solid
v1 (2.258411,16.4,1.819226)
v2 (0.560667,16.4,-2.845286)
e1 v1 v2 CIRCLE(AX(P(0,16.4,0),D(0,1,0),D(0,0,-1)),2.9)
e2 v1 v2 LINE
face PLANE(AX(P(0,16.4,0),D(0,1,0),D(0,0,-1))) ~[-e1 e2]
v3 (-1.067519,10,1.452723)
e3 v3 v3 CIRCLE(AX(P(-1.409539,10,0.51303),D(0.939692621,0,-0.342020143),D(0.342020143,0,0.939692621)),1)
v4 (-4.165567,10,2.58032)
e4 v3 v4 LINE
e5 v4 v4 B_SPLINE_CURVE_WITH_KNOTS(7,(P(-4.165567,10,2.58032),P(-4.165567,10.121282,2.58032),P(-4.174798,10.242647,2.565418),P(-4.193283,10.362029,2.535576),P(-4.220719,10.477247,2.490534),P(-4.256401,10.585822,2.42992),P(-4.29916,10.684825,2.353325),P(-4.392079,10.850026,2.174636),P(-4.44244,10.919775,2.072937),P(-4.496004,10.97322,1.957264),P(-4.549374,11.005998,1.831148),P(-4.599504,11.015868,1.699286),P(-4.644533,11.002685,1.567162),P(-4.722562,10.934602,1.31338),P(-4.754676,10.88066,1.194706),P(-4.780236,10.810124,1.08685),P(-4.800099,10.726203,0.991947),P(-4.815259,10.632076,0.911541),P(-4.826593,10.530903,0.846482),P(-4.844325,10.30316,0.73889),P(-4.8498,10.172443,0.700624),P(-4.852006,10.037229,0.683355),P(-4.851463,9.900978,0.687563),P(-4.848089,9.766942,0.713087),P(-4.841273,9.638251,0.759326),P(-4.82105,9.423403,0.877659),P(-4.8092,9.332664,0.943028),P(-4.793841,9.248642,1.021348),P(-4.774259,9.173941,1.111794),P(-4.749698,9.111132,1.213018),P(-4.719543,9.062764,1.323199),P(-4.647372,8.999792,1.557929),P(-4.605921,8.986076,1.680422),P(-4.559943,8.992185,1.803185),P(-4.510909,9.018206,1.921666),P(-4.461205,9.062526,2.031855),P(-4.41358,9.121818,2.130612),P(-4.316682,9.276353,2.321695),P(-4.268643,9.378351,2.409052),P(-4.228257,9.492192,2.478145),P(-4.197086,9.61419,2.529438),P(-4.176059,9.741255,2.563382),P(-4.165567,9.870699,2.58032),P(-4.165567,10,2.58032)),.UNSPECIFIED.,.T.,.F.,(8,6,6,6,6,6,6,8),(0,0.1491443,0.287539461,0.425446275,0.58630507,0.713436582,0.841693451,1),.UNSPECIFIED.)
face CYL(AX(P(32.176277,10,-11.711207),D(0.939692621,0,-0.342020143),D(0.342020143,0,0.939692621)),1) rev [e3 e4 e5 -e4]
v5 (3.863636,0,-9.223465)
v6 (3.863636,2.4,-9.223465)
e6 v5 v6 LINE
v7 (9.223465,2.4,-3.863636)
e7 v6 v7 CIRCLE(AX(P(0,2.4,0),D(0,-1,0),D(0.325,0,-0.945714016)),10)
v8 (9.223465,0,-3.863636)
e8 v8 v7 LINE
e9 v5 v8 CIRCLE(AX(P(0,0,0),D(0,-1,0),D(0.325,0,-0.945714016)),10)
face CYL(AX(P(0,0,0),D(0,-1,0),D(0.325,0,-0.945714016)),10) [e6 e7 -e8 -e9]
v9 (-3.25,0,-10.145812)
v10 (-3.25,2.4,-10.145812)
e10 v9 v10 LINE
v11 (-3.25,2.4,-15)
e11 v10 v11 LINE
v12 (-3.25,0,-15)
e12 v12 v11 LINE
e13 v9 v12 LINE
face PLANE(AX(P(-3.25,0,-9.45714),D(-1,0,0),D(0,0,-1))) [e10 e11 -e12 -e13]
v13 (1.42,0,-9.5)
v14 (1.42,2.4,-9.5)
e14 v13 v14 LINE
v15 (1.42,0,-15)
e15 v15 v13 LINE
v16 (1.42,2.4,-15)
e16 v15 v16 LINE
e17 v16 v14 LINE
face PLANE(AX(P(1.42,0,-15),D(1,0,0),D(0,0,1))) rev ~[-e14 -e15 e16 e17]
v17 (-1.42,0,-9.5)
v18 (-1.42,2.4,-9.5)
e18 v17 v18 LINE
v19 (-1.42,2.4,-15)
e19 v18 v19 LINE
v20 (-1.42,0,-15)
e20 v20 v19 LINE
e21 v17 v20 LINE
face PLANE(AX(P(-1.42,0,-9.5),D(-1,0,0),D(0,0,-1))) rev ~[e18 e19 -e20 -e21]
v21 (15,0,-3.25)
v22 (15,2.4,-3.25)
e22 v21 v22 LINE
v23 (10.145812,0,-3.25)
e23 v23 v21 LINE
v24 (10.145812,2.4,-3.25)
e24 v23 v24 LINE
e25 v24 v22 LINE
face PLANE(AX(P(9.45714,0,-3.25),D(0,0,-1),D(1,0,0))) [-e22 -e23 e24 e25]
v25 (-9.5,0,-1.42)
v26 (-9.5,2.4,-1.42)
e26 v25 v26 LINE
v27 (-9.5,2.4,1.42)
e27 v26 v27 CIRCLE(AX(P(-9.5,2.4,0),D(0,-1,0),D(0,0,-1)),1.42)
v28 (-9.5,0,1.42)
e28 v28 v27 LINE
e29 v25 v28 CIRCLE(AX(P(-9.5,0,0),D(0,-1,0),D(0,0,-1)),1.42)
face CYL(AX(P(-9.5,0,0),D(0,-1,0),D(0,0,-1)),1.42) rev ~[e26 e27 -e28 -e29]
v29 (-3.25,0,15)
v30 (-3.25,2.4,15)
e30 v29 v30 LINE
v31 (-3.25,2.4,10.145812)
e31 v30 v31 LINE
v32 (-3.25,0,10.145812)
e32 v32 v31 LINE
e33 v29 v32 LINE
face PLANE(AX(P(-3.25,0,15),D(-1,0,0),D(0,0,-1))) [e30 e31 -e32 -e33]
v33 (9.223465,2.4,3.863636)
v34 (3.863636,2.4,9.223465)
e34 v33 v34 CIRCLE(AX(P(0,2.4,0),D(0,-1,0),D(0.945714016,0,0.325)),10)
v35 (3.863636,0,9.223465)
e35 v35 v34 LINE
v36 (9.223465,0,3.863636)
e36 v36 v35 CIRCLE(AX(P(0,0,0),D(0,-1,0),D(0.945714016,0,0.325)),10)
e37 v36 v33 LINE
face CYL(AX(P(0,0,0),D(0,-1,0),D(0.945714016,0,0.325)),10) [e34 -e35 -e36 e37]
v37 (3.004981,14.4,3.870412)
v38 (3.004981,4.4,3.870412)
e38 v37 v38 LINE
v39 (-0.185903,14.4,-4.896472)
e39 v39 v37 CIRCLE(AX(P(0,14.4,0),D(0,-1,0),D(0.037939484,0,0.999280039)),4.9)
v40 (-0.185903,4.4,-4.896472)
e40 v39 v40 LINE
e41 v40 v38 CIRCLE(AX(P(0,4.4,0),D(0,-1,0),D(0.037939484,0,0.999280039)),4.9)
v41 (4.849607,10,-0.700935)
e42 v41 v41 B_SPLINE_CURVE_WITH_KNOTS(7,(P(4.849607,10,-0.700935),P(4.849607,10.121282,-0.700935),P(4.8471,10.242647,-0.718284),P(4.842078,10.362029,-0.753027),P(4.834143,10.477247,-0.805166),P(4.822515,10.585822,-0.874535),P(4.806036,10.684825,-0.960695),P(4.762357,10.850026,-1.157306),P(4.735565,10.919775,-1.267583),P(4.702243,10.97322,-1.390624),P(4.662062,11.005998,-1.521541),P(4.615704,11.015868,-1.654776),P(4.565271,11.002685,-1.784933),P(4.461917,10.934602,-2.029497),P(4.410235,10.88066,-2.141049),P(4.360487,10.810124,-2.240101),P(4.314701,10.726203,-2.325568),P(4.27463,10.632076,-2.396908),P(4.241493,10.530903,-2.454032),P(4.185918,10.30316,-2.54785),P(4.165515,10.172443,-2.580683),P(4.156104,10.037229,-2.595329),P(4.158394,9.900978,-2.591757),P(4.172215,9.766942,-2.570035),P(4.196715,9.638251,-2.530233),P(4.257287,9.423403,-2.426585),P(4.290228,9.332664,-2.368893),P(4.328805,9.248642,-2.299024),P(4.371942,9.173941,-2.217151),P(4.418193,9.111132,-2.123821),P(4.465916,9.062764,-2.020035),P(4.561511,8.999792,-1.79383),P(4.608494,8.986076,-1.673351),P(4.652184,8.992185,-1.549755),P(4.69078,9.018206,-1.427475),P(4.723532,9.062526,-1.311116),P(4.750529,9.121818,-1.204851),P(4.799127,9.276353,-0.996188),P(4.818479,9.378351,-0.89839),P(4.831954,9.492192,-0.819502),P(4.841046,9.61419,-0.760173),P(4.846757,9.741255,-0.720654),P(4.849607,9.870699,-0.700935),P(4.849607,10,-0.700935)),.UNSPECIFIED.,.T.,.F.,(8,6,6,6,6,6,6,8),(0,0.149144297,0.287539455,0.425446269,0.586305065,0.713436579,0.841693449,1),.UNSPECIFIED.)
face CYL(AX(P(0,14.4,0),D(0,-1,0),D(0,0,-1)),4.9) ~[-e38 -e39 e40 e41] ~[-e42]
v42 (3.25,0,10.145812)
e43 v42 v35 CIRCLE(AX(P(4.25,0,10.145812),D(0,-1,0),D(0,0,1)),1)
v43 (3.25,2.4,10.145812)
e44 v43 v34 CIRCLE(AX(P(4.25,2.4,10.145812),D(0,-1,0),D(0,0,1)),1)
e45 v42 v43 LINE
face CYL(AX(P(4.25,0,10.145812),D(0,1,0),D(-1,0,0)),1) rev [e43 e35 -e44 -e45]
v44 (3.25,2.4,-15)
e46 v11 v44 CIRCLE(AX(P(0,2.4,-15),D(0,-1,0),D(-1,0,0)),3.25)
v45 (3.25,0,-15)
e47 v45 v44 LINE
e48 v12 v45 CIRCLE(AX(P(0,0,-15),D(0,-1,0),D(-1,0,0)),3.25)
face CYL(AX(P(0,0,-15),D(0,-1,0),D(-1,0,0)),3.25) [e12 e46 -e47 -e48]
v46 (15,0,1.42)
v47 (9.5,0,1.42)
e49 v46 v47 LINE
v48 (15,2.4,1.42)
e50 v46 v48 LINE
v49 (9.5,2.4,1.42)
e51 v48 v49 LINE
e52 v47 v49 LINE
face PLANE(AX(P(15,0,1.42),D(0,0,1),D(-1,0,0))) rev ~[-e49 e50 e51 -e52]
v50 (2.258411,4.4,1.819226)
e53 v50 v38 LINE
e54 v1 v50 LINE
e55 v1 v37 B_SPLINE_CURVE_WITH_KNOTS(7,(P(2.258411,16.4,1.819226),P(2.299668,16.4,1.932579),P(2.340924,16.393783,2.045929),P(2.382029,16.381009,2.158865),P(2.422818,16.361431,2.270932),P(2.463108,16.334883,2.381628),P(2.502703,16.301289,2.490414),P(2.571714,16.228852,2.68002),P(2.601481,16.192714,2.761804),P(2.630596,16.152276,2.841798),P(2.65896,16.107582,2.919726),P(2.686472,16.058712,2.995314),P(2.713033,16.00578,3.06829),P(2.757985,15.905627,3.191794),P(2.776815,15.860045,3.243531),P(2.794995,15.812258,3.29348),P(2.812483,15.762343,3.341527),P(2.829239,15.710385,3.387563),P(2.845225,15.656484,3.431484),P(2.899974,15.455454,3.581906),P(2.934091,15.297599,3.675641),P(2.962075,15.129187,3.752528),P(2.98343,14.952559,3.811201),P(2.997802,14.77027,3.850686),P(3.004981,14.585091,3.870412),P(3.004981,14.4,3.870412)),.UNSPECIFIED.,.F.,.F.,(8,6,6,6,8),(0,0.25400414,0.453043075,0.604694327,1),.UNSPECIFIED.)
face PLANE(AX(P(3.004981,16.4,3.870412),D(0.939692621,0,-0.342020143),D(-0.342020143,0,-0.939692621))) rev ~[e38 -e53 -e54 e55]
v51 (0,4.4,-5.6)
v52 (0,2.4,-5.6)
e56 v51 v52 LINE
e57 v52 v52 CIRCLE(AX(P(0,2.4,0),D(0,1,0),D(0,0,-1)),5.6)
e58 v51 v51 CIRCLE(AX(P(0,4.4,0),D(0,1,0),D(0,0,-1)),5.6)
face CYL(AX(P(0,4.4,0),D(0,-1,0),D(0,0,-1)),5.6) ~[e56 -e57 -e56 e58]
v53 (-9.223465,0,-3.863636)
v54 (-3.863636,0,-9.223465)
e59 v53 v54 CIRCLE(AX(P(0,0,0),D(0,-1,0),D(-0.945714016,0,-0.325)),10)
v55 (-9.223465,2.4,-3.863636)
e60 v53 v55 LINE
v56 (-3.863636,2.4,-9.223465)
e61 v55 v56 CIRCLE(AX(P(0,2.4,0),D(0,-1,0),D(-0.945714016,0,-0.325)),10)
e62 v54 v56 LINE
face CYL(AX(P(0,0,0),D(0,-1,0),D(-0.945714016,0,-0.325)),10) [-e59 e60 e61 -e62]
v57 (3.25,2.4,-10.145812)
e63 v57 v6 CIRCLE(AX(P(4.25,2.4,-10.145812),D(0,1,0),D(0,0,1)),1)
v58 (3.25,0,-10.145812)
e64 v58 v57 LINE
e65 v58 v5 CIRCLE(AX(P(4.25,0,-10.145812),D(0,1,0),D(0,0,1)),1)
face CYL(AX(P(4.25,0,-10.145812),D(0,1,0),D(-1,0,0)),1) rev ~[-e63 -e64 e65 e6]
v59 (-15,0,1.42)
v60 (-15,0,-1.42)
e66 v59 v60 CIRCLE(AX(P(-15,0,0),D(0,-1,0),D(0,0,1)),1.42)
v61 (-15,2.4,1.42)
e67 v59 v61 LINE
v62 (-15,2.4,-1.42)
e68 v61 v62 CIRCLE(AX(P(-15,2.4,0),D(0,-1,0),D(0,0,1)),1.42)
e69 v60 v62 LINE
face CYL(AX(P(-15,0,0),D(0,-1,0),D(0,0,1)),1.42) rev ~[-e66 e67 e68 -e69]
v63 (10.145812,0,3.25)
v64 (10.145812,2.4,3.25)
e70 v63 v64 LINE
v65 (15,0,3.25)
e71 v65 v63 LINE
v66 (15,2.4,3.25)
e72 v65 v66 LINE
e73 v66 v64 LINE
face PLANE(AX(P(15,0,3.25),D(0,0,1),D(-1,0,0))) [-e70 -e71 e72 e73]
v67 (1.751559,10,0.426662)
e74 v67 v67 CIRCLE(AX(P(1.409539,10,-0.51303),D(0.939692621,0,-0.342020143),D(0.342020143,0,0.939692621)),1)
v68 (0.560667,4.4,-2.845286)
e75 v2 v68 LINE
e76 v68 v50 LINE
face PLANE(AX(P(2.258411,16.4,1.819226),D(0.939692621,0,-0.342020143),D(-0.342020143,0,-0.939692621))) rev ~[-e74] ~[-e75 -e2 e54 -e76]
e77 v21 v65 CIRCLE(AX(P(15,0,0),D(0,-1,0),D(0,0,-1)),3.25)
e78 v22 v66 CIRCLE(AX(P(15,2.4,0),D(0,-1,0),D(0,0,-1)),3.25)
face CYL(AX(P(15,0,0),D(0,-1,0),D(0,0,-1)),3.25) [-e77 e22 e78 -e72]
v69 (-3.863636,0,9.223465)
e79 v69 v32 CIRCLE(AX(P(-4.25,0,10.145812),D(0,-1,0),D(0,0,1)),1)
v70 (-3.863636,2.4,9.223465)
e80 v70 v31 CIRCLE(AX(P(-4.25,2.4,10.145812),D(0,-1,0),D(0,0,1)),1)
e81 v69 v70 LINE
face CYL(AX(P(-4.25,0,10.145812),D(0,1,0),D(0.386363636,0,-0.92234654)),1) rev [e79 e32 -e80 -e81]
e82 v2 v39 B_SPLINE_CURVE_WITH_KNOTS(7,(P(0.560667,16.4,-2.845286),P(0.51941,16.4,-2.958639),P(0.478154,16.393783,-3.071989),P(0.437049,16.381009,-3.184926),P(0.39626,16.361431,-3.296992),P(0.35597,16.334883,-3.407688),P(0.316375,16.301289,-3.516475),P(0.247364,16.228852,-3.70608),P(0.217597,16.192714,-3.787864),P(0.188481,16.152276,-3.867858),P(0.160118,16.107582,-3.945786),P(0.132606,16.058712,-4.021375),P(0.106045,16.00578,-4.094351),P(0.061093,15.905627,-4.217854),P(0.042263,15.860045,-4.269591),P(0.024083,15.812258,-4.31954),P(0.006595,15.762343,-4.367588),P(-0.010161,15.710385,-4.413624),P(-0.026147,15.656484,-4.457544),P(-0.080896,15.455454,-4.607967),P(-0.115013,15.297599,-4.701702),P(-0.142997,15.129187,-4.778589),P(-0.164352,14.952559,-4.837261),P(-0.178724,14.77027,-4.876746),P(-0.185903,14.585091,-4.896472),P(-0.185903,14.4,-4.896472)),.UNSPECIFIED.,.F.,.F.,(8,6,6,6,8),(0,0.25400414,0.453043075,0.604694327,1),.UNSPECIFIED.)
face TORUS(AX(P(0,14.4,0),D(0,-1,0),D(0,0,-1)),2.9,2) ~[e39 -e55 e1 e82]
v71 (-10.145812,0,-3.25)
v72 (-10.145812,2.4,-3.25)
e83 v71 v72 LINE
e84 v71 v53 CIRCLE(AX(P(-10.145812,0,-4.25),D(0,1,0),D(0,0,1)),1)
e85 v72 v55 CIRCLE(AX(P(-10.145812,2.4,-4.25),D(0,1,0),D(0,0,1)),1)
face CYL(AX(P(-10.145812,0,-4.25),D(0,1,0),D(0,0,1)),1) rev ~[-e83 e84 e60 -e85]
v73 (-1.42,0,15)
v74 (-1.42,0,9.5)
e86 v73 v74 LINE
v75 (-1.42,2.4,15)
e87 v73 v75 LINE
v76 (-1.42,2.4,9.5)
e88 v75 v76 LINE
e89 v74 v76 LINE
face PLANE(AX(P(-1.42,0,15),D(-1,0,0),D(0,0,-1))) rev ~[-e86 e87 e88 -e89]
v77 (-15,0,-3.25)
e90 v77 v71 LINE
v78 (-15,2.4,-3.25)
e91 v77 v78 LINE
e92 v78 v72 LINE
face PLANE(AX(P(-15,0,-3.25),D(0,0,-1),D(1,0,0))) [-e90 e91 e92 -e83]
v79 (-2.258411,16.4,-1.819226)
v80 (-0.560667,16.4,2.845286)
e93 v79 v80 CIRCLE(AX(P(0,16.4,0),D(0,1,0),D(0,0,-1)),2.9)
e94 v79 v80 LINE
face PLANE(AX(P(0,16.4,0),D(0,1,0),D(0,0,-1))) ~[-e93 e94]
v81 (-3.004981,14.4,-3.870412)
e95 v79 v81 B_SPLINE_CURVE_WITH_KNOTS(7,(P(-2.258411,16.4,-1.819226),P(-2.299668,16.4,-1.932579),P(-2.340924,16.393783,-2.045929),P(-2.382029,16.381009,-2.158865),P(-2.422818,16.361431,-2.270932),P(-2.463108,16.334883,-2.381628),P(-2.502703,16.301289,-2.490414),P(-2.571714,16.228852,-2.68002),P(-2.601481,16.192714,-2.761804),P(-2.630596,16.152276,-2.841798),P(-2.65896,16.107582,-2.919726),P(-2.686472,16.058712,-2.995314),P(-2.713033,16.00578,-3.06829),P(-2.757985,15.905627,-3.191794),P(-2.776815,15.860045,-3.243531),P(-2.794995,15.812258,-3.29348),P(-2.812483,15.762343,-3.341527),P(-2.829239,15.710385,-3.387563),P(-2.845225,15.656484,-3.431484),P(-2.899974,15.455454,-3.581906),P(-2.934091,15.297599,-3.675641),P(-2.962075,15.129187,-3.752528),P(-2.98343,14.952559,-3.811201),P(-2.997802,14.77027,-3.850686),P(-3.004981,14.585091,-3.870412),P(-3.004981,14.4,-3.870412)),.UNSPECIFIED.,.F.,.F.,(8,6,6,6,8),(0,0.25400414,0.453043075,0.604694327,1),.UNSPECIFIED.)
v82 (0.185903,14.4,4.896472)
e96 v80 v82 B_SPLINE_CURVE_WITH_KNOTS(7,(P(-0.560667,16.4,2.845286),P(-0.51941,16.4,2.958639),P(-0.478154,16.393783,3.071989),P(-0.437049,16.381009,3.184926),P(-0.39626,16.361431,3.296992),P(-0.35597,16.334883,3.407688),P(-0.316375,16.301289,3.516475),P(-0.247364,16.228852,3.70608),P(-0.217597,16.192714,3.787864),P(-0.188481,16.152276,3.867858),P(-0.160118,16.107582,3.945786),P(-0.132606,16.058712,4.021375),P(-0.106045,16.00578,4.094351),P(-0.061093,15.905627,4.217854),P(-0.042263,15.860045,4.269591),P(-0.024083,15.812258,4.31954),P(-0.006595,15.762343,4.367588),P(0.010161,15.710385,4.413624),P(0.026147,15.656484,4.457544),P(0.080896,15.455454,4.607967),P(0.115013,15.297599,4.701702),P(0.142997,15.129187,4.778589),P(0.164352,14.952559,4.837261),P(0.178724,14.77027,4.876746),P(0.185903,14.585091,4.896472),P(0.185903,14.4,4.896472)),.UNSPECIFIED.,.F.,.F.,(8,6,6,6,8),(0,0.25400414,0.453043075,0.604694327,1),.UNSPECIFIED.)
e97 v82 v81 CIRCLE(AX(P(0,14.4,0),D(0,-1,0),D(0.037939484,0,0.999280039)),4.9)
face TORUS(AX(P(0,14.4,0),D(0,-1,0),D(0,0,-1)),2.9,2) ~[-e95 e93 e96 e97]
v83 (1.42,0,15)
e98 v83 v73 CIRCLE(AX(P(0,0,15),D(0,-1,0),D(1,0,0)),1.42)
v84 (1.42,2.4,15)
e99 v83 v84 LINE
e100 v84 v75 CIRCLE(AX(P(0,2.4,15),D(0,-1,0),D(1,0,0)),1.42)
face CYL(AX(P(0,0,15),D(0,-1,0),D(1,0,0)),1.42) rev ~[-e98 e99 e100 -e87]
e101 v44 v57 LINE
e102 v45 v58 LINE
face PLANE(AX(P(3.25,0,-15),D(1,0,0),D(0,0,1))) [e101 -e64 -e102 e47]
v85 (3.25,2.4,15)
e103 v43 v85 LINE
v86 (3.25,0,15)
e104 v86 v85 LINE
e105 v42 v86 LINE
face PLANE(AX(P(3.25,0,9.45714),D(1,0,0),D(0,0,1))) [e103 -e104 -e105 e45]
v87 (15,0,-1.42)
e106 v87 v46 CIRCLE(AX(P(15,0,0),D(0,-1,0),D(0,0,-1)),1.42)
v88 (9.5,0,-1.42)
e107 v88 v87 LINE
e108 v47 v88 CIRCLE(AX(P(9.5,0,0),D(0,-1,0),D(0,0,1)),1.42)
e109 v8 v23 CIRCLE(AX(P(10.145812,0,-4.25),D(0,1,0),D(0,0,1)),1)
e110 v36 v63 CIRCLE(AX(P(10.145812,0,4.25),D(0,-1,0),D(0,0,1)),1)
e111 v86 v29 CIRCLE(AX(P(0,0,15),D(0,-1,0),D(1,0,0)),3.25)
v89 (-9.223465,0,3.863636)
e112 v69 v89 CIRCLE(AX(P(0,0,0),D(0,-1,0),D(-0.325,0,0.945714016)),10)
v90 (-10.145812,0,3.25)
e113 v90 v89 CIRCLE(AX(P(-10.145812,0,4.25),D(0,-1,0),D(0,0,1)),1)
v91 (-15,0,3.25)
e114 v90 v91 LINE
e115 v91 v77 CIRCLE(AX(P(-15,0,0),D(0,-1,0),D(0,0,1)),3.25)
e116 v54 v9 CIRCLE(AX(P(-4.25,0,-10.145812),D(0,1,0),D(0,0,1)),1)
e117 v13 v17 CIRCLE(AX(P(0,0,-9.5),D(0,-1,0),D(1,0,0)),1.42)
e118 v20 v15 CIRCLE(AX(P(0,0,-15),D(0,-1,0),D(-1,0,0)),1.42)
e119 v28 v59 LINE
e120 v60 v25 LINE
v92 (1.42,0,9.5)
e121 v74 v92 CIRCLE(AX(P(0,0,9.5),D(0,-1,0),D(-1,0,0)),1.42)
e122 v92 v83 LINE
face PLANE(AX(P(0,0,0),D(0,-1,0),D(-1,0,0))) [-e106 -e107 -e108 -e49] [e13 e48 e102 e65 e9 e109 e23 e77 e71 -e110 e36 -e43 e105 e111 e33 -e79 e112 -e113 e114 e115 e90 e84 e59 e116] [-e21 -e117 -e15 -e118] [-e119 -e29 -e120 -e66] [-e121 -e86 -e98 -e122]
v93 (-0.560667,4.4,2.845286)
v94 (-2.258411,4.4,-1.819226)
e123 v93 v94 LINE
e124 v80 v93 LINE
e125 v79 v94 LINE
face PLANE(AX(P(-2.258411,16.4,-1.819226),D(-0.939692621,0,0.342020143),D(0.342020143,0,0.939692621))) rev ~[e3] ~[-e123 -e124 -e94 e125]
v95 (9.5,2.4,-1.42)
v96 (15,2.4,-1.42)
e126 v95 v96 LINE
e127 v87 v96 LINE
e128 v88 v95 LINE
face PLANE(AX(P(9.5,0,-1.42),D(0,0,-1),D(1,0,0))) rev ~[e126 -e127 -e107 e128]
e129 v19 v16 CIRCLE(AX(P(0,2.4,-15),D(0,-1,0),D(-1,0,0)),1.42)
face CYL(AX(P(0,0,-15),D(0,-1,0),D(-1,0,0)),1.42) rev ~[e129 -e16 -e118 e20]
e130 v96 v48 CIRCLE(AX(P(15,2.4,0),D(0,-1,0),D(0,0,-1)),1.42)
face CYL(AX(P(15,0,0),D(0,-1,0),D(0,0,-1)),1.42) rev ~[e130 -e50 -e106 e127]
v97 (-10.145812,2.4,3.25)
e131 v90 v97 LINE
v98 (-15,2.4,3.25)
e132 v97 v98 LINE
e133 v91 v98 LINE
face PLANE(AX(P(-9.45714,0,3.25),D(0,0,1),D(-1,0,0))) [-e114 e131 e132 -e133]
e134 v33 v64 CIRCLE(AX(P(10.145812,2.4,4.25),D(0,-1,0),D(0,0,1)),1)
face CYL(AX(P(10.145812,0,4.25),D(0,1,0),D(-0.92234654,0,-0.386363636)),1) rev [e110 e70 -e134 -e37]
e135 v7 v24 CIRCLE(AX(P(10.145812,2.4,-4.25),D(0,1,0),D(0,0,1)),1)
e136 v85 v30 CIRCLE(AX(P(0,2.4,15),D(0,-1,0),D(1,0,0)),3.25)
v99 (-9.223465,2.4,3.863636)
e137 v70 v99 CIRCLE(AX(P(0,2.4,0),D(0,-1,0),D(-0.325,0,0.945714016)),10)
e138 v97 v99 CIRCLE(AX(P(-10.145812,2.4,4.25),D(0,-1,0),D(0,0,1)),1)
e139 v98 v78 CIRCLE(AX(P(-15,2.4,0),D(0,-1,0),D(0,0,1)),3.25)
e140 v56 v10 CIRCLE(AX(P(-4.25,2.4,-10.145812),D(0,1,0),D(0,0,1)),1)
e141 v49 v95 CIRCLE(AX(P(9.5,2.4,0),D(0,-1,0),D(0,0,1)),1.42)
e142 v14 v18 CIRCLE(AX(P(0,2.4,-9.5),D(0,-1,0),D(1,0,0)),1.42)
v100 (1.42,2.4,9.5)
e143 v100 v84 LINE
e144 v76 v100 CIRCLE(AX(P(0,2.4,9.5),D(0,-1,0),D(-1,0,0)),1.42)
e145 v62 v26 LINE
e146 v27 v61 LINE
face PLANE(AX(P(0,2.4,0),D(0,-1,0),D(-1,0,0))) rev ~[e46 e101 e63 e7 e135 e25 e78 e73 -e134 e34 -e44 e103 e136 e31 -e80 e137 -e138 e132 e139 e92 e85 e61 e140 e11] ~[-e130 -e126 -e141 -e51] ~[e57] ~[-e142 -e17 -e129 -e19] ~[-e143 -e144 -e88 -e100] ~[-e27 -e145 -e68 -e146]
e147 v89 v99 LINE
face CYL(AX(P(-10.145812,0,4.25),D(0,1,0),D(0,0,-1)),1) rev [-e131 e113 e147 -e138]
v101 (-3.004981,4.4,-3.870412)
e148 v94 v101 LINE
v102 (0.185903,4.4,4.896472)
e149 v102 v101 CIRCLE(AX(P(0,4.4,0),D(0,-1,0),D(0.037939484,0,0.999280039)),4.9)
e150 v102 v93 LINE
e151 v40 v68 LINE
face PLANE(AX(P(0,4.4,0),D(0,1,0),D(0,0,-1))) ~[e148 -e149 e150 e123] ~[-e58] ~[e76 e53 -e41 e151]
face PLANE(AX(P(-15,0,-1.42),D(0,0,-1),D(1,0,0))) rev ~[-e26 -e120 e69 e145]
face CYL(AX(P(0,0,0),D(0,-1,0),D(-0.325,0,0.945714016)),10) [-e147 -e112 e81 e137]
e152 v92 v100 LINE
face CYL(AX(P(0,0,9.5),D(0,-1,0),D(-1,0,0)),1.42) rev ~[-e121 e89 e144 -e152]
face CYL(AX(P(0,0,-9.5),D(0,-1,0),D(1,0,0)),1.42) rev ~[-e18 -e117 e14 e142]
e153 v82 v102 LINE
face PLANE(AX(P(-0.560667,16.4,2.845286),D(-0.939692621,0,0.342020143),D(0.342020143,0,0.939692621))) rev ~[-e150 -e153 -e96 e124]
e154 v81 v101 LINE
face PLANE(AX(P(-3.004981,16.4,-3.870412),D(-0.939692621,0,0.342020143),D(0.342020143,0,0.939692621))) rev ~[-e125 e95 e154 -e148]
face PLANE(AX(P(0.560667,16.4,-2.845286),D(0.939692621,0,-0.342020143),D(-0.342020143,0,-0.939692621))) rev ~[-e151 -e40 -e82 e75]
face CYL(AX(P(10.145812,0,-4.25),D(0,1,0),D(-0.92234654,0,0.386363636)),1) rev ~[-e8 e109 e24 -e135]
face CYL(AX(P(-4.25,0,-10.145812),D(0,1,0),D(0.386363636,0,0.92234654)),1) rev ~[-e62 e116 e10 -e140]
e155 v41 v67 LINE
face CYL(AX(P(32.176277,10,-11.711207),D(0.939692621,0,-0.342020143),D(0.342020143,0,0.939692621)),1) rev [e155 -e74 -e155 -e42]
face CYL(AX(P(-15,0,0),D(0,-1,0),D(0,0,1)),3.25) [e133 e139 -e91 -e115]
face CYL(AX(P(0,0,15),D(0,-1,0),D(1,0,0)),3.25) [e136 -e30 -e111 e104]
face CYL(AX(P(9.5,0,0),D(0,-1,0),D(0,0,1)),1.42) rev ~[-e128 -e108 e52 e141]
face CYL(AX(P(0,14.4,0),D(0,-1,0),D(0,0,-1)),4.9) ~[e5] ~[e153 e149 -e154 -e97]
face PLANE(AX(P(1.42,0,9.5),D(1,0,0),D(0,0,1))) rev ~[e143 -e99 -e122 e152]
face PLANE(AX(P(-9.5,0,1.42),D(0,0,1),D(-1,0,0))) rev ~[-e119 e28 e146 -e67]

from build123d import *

# Parameters (mm, degrees)
BOSS_EXTRUDE1_DEPTH     = 2.4
FILLET1_R               = 1
CUT_EXTRUDE1_REACH      = 32.579
CUT_EXTRUDE2_DEPTH      = 32.741278757
CUT_EXTRUDE2_DEPTH_BACK = 32.741278757
SKETCH6_R               = 1


with BuildPart() as part:
    # Sketch1 → Boss-Extrude1 (new body)
    with BuildSketch(Plane(origin=(0, 0, 0), x_dir=(1, 0, 0), z_dir=(0, 1, 0))):
        with BuildLine():
            Line((-15, 3.25), (-9.45714016, 3.25))
            ThreePointArc((-9.45714016, 3.25), (-7.071067812, 7.071067812), (-3.25, 9.45714016))
            Line((-3.25, 9.45714016), (-3.25, 15))
            ThreePointArc((-3.25, 15), (0, 18.25), (3.25, 15))
            Line((3.25, 15), (3.25, 9.45714016))
            ThreePointArc((3.25, 9.45714016), (7.071067812, 7.071067812), (9.45714016, 3.25))
            Line((9.45714016, 3.25), (15, 3.25))
            ThreePointArc((15, 3.25), (18.25, 0), (15, -3.25))
            Line((15, -3.25), (9.45714016, -3.25))
            ThreePointArc((9.45714016, -3.25), (7.071067812, -7.071067812), (3.25, -9.45714016))
            Line((3.25, -9.45714016), (3.25, -15))
            ThreePointArc((3.25, -15), (0, -18.25), (-3.25, -15))
            Line((-3.25, -15), (-3.25, -9.45714016))
            ThreePointArc((-3.25, -9.45714016), (-7.071067812, -7.071067812), (-9.45714016, -3.25))
            Line((-9.45714016, -3.25), (-15, -3.25))
            ThreePointArc((-15, -3.25), (-18.25, 0), (-15, 3.25))
        make_face()
        with BuildLine():
            Line((-15, 1.42), (-9.5, 1.42))
            ThreePointArc((-9.5, 1.42), (-8.08, 0), (-9.5, -1.42))
            Line((-9.5, -1.42), (-15, -1.42))
            ThreePointArc((-15, -1.42), (-16.42, 0), (-15, 1.42))
        make_face(mode=Mode.SUBTRACT)
        with BuildLine():
            Line((1.42, 15), (1.42, 9.5))
            ThreePointArc((1.42, 9.5), (0, 8.08), (-1.42, 9.5))
            Line((-1.42, 9.5), (-1.42, 15))
            ThreePointArc((-1.42, 15), (0, 16.42), (1.42, 15))
        make_face(mode=Mode.SUBTRACT)
        with BuildLine():
            Line((15, -1.42), (9.5, -1.42))
            ThreePointArc((9.5, -1.42), (8.08, 0), (9.5, 1.42))
            Line((9.5, 1.42), (15, 1.42))
            ThreePointArc((15, 1.42), (16.42, 0), (15, -1.42))
        make_face(mode=Mode.SUBTRACT)
        with BuildLine():
            Line((-1.42, -15), (-1.42, -9.5))
            ThreePointArc((-1.42, -9.5), (0, -8.08), (1.42, -9.5))
            Line((1.42, -9.5), (1.42, -15))
            ThreePointArc((1.42, -15), (0, -16.42), (-1.42, -15))
        make_face(mode=Mode.SUBTRACT)
    extrude(amount=BOSS_EXTRUDE1_DEPTH)

    # Fillet1
    fillet1_edges = [part.edges().sort_by_distance(p)[0] for p in [
        (-9.45714016, 1.2, -3.25),
        (-3.25, 1.2, -9.45714016),
        (3.25, 1.2, -9.45714016),
        (9.45714016, 1.2, -3.25),
        (9.45714016, 1.2, 3.25),
        (3.25, 1.2, 9.45714016),
        (-3.25, 1.2, 9.45714016),
        (-9.45714016, 1.2, 3.25),
    ]]
    fillet(fillet1_edges, radius=FILLET1_R)

    # Sketch2 → Revolve2 (revolve)
    with BuildSketch(Plane.XY, mode=Mode.PRIVATE) as revolve2_sk:
        with BuildLine():
            Line((0, 4.4), (0, 16.4))
            Line((0, 16.4), (2.9, 16.4))
            ThreePointArc((2.9, 16.4), (4.314213562, 15.814213562), (4.9, 14.4))
            Line((4.9, 14.4), (4.9, 4.4))
            Line((4.9, 4.4), (5.6, 4.4))
            Line((5.6, 4.4), (5.6, 2.4))
            Line((5.6, 2.4), (0, 2.4))
            Line((0, 2.4), (0, 4.4))
        make_face()
    revolve(revolve2_sk.sketch.rotate(Axis((0, 4.4, 0), (0, 1, 0)), 90), axis=Axis((0, 4.4, 0), (0, 1, 0)))

    # Cut-Extrude1: up to this face of the body (flat: up to its plane)
    cut_extrude1_end = Plane(part.part.faces().sort_by_distance((0, 4.4, 5.058391919))[0])
    # Sketch5 → Cut-Extrude1 (cut, up to the picked face)
    with BuildSketch(Plane(origin=(0, 16.4, 0), x_dir=(1, 0, 0), z_dir=(0, 1, 0)), mode=Mode.PRIVATE) as cut_extrude1_sk1:
        with BuildLine():
            ThreePointArc((-0.560667259, -2.845285965), (0.991858416, -2.7251086), (2.258410603, -1.819225535))
            Line((2.258410603, -1.819225535), (0.560667259, 2.845285965))
            ThreePointArc((0.560667259, 2.845285965), (-0.991858416, 2.7251086), (-2.258410603, 1.819225535))
            Line((-2.258410603, 1.819225535), (-0.560667259, -2.845285965))
        make_face()
    cut_extrude1_tool1 = split(extrude(cut_extrude1_sk1.sketch, amount=-CUT_EXTRUDE1_REACH, mode=Mode.PRIVATE), bisect_by=cut_extrude1_end, keep=Keep.BOTH, mode=Mode.PRIVATE)
    # Sketch5 → Cut-Extrude1 (cut, up to the picked face)
    with BuildSketch(Plane(origin=(0, 16.4, 0), x_dir=(1, 0, 0), z_dir=(0, 1, 0)), mode=Mode.PRIVATE) as cut_extrude1_sk2:
        with BuildLine():
            ThreePointArc((0.185903471, -4.896472189), (1.675898702, -4.604493842), (3.004981333, -3.870411759))
            Line((3.004981333, -3.870411759), (2.258410603, -1.819225535))
            ThreePointArc((2.258410603, -1.819225535), (0.991858416, -2.7251086), (-0.560667259, -2.845285965))
            Line((-0.560667259, -2.845285965), (0.185903471, -4.896472189))
        make_face()
    cut_extrude1_tool2 = split(extrude(cut_extrude1_sk2.sketch, amount=-CUT_EXTRUDE1_REACH, mode=Mode.PRIVATE), bisect_by=cut_extrude1_end, keep=Keep.BOTH, mode=Mode.PRIVATE)
    # Sketch5 → Cut-Extrude1 (cut, up to the picked face)
    with BuildSketch(Plane(origin=(0, 16.4, 0), x_dir=(1, 0, 0), z_dir=(0, 1, 0)), mode=Mode.PRIVATE) as cut_extrude1_sk3:
        with BuildLine():
            ThreePointArc((-2.258410603, 1.819225535), (-0.991858416, 2.7251086), (0.560667259, 2.845285965))
            Line((0.560667259, 2.845285965), (-0.185903471, 4.896472189))
            ThreePointArc((-0.185903471, 4.896472189), (-1.675898702, 4.604493842), (-3.004981333, 3.870411759))
            Line((-3.004981333, 3.870411759), (-2.258410603, 1.819225535))
        make_face()
    cut_extrude1_tool3 = split(extrude(cut_extrude1_sk3.sketch, amount=-CUT_EXTRUDE1_REACH, mode=Mode.PRIVATE), bisect_by=cut_extrude1_end, keep=Keep.BOTH, mode=Mode.PRIVATE)
    add(cut_extrude1_tool1.solids().sort_by(Axis((0, 16.4, 0), (0, -1, 0)))[0], mode=Mode.SUBTRACT)
    add(cut_extrude1_tool2.solids().sort_by(Axis((1.296647, 16.4, 3.562508), (0, -1, 0)))[0], mode=Mode.SUBTRACT)
    add(cut_extrude1_tool3.solids().sort_by(Axis((-1.296647, 16.4, -3.562508), (0, -1, 0)))[0], mode=Mode.SUBTRACT)

    # Sketch6 → Cut-Extrude2 (cut, two sides: drawn at the far end of the back side and taken through both)
    with BuildSketch(Plane(origin=(1.409538931, 0, -0.513030215), x_dir=(0.3420201433256665, 0, 0.9396926207859093), z_dir=(-0.9396926207859092, 0, 0.34202014332566644)).offset(-CUT_EXTRUDE2_DEPTH_BACK)):
        with Locations((0, 10)):
            Circle(SKETCH6_R)
    extrude(amount=CUT_EXTRUDE2_DEPTH + CUT_EXTRUDE2_DEPTH_BACK, mode=Mode.SUBTRACT)


solid = part.part
